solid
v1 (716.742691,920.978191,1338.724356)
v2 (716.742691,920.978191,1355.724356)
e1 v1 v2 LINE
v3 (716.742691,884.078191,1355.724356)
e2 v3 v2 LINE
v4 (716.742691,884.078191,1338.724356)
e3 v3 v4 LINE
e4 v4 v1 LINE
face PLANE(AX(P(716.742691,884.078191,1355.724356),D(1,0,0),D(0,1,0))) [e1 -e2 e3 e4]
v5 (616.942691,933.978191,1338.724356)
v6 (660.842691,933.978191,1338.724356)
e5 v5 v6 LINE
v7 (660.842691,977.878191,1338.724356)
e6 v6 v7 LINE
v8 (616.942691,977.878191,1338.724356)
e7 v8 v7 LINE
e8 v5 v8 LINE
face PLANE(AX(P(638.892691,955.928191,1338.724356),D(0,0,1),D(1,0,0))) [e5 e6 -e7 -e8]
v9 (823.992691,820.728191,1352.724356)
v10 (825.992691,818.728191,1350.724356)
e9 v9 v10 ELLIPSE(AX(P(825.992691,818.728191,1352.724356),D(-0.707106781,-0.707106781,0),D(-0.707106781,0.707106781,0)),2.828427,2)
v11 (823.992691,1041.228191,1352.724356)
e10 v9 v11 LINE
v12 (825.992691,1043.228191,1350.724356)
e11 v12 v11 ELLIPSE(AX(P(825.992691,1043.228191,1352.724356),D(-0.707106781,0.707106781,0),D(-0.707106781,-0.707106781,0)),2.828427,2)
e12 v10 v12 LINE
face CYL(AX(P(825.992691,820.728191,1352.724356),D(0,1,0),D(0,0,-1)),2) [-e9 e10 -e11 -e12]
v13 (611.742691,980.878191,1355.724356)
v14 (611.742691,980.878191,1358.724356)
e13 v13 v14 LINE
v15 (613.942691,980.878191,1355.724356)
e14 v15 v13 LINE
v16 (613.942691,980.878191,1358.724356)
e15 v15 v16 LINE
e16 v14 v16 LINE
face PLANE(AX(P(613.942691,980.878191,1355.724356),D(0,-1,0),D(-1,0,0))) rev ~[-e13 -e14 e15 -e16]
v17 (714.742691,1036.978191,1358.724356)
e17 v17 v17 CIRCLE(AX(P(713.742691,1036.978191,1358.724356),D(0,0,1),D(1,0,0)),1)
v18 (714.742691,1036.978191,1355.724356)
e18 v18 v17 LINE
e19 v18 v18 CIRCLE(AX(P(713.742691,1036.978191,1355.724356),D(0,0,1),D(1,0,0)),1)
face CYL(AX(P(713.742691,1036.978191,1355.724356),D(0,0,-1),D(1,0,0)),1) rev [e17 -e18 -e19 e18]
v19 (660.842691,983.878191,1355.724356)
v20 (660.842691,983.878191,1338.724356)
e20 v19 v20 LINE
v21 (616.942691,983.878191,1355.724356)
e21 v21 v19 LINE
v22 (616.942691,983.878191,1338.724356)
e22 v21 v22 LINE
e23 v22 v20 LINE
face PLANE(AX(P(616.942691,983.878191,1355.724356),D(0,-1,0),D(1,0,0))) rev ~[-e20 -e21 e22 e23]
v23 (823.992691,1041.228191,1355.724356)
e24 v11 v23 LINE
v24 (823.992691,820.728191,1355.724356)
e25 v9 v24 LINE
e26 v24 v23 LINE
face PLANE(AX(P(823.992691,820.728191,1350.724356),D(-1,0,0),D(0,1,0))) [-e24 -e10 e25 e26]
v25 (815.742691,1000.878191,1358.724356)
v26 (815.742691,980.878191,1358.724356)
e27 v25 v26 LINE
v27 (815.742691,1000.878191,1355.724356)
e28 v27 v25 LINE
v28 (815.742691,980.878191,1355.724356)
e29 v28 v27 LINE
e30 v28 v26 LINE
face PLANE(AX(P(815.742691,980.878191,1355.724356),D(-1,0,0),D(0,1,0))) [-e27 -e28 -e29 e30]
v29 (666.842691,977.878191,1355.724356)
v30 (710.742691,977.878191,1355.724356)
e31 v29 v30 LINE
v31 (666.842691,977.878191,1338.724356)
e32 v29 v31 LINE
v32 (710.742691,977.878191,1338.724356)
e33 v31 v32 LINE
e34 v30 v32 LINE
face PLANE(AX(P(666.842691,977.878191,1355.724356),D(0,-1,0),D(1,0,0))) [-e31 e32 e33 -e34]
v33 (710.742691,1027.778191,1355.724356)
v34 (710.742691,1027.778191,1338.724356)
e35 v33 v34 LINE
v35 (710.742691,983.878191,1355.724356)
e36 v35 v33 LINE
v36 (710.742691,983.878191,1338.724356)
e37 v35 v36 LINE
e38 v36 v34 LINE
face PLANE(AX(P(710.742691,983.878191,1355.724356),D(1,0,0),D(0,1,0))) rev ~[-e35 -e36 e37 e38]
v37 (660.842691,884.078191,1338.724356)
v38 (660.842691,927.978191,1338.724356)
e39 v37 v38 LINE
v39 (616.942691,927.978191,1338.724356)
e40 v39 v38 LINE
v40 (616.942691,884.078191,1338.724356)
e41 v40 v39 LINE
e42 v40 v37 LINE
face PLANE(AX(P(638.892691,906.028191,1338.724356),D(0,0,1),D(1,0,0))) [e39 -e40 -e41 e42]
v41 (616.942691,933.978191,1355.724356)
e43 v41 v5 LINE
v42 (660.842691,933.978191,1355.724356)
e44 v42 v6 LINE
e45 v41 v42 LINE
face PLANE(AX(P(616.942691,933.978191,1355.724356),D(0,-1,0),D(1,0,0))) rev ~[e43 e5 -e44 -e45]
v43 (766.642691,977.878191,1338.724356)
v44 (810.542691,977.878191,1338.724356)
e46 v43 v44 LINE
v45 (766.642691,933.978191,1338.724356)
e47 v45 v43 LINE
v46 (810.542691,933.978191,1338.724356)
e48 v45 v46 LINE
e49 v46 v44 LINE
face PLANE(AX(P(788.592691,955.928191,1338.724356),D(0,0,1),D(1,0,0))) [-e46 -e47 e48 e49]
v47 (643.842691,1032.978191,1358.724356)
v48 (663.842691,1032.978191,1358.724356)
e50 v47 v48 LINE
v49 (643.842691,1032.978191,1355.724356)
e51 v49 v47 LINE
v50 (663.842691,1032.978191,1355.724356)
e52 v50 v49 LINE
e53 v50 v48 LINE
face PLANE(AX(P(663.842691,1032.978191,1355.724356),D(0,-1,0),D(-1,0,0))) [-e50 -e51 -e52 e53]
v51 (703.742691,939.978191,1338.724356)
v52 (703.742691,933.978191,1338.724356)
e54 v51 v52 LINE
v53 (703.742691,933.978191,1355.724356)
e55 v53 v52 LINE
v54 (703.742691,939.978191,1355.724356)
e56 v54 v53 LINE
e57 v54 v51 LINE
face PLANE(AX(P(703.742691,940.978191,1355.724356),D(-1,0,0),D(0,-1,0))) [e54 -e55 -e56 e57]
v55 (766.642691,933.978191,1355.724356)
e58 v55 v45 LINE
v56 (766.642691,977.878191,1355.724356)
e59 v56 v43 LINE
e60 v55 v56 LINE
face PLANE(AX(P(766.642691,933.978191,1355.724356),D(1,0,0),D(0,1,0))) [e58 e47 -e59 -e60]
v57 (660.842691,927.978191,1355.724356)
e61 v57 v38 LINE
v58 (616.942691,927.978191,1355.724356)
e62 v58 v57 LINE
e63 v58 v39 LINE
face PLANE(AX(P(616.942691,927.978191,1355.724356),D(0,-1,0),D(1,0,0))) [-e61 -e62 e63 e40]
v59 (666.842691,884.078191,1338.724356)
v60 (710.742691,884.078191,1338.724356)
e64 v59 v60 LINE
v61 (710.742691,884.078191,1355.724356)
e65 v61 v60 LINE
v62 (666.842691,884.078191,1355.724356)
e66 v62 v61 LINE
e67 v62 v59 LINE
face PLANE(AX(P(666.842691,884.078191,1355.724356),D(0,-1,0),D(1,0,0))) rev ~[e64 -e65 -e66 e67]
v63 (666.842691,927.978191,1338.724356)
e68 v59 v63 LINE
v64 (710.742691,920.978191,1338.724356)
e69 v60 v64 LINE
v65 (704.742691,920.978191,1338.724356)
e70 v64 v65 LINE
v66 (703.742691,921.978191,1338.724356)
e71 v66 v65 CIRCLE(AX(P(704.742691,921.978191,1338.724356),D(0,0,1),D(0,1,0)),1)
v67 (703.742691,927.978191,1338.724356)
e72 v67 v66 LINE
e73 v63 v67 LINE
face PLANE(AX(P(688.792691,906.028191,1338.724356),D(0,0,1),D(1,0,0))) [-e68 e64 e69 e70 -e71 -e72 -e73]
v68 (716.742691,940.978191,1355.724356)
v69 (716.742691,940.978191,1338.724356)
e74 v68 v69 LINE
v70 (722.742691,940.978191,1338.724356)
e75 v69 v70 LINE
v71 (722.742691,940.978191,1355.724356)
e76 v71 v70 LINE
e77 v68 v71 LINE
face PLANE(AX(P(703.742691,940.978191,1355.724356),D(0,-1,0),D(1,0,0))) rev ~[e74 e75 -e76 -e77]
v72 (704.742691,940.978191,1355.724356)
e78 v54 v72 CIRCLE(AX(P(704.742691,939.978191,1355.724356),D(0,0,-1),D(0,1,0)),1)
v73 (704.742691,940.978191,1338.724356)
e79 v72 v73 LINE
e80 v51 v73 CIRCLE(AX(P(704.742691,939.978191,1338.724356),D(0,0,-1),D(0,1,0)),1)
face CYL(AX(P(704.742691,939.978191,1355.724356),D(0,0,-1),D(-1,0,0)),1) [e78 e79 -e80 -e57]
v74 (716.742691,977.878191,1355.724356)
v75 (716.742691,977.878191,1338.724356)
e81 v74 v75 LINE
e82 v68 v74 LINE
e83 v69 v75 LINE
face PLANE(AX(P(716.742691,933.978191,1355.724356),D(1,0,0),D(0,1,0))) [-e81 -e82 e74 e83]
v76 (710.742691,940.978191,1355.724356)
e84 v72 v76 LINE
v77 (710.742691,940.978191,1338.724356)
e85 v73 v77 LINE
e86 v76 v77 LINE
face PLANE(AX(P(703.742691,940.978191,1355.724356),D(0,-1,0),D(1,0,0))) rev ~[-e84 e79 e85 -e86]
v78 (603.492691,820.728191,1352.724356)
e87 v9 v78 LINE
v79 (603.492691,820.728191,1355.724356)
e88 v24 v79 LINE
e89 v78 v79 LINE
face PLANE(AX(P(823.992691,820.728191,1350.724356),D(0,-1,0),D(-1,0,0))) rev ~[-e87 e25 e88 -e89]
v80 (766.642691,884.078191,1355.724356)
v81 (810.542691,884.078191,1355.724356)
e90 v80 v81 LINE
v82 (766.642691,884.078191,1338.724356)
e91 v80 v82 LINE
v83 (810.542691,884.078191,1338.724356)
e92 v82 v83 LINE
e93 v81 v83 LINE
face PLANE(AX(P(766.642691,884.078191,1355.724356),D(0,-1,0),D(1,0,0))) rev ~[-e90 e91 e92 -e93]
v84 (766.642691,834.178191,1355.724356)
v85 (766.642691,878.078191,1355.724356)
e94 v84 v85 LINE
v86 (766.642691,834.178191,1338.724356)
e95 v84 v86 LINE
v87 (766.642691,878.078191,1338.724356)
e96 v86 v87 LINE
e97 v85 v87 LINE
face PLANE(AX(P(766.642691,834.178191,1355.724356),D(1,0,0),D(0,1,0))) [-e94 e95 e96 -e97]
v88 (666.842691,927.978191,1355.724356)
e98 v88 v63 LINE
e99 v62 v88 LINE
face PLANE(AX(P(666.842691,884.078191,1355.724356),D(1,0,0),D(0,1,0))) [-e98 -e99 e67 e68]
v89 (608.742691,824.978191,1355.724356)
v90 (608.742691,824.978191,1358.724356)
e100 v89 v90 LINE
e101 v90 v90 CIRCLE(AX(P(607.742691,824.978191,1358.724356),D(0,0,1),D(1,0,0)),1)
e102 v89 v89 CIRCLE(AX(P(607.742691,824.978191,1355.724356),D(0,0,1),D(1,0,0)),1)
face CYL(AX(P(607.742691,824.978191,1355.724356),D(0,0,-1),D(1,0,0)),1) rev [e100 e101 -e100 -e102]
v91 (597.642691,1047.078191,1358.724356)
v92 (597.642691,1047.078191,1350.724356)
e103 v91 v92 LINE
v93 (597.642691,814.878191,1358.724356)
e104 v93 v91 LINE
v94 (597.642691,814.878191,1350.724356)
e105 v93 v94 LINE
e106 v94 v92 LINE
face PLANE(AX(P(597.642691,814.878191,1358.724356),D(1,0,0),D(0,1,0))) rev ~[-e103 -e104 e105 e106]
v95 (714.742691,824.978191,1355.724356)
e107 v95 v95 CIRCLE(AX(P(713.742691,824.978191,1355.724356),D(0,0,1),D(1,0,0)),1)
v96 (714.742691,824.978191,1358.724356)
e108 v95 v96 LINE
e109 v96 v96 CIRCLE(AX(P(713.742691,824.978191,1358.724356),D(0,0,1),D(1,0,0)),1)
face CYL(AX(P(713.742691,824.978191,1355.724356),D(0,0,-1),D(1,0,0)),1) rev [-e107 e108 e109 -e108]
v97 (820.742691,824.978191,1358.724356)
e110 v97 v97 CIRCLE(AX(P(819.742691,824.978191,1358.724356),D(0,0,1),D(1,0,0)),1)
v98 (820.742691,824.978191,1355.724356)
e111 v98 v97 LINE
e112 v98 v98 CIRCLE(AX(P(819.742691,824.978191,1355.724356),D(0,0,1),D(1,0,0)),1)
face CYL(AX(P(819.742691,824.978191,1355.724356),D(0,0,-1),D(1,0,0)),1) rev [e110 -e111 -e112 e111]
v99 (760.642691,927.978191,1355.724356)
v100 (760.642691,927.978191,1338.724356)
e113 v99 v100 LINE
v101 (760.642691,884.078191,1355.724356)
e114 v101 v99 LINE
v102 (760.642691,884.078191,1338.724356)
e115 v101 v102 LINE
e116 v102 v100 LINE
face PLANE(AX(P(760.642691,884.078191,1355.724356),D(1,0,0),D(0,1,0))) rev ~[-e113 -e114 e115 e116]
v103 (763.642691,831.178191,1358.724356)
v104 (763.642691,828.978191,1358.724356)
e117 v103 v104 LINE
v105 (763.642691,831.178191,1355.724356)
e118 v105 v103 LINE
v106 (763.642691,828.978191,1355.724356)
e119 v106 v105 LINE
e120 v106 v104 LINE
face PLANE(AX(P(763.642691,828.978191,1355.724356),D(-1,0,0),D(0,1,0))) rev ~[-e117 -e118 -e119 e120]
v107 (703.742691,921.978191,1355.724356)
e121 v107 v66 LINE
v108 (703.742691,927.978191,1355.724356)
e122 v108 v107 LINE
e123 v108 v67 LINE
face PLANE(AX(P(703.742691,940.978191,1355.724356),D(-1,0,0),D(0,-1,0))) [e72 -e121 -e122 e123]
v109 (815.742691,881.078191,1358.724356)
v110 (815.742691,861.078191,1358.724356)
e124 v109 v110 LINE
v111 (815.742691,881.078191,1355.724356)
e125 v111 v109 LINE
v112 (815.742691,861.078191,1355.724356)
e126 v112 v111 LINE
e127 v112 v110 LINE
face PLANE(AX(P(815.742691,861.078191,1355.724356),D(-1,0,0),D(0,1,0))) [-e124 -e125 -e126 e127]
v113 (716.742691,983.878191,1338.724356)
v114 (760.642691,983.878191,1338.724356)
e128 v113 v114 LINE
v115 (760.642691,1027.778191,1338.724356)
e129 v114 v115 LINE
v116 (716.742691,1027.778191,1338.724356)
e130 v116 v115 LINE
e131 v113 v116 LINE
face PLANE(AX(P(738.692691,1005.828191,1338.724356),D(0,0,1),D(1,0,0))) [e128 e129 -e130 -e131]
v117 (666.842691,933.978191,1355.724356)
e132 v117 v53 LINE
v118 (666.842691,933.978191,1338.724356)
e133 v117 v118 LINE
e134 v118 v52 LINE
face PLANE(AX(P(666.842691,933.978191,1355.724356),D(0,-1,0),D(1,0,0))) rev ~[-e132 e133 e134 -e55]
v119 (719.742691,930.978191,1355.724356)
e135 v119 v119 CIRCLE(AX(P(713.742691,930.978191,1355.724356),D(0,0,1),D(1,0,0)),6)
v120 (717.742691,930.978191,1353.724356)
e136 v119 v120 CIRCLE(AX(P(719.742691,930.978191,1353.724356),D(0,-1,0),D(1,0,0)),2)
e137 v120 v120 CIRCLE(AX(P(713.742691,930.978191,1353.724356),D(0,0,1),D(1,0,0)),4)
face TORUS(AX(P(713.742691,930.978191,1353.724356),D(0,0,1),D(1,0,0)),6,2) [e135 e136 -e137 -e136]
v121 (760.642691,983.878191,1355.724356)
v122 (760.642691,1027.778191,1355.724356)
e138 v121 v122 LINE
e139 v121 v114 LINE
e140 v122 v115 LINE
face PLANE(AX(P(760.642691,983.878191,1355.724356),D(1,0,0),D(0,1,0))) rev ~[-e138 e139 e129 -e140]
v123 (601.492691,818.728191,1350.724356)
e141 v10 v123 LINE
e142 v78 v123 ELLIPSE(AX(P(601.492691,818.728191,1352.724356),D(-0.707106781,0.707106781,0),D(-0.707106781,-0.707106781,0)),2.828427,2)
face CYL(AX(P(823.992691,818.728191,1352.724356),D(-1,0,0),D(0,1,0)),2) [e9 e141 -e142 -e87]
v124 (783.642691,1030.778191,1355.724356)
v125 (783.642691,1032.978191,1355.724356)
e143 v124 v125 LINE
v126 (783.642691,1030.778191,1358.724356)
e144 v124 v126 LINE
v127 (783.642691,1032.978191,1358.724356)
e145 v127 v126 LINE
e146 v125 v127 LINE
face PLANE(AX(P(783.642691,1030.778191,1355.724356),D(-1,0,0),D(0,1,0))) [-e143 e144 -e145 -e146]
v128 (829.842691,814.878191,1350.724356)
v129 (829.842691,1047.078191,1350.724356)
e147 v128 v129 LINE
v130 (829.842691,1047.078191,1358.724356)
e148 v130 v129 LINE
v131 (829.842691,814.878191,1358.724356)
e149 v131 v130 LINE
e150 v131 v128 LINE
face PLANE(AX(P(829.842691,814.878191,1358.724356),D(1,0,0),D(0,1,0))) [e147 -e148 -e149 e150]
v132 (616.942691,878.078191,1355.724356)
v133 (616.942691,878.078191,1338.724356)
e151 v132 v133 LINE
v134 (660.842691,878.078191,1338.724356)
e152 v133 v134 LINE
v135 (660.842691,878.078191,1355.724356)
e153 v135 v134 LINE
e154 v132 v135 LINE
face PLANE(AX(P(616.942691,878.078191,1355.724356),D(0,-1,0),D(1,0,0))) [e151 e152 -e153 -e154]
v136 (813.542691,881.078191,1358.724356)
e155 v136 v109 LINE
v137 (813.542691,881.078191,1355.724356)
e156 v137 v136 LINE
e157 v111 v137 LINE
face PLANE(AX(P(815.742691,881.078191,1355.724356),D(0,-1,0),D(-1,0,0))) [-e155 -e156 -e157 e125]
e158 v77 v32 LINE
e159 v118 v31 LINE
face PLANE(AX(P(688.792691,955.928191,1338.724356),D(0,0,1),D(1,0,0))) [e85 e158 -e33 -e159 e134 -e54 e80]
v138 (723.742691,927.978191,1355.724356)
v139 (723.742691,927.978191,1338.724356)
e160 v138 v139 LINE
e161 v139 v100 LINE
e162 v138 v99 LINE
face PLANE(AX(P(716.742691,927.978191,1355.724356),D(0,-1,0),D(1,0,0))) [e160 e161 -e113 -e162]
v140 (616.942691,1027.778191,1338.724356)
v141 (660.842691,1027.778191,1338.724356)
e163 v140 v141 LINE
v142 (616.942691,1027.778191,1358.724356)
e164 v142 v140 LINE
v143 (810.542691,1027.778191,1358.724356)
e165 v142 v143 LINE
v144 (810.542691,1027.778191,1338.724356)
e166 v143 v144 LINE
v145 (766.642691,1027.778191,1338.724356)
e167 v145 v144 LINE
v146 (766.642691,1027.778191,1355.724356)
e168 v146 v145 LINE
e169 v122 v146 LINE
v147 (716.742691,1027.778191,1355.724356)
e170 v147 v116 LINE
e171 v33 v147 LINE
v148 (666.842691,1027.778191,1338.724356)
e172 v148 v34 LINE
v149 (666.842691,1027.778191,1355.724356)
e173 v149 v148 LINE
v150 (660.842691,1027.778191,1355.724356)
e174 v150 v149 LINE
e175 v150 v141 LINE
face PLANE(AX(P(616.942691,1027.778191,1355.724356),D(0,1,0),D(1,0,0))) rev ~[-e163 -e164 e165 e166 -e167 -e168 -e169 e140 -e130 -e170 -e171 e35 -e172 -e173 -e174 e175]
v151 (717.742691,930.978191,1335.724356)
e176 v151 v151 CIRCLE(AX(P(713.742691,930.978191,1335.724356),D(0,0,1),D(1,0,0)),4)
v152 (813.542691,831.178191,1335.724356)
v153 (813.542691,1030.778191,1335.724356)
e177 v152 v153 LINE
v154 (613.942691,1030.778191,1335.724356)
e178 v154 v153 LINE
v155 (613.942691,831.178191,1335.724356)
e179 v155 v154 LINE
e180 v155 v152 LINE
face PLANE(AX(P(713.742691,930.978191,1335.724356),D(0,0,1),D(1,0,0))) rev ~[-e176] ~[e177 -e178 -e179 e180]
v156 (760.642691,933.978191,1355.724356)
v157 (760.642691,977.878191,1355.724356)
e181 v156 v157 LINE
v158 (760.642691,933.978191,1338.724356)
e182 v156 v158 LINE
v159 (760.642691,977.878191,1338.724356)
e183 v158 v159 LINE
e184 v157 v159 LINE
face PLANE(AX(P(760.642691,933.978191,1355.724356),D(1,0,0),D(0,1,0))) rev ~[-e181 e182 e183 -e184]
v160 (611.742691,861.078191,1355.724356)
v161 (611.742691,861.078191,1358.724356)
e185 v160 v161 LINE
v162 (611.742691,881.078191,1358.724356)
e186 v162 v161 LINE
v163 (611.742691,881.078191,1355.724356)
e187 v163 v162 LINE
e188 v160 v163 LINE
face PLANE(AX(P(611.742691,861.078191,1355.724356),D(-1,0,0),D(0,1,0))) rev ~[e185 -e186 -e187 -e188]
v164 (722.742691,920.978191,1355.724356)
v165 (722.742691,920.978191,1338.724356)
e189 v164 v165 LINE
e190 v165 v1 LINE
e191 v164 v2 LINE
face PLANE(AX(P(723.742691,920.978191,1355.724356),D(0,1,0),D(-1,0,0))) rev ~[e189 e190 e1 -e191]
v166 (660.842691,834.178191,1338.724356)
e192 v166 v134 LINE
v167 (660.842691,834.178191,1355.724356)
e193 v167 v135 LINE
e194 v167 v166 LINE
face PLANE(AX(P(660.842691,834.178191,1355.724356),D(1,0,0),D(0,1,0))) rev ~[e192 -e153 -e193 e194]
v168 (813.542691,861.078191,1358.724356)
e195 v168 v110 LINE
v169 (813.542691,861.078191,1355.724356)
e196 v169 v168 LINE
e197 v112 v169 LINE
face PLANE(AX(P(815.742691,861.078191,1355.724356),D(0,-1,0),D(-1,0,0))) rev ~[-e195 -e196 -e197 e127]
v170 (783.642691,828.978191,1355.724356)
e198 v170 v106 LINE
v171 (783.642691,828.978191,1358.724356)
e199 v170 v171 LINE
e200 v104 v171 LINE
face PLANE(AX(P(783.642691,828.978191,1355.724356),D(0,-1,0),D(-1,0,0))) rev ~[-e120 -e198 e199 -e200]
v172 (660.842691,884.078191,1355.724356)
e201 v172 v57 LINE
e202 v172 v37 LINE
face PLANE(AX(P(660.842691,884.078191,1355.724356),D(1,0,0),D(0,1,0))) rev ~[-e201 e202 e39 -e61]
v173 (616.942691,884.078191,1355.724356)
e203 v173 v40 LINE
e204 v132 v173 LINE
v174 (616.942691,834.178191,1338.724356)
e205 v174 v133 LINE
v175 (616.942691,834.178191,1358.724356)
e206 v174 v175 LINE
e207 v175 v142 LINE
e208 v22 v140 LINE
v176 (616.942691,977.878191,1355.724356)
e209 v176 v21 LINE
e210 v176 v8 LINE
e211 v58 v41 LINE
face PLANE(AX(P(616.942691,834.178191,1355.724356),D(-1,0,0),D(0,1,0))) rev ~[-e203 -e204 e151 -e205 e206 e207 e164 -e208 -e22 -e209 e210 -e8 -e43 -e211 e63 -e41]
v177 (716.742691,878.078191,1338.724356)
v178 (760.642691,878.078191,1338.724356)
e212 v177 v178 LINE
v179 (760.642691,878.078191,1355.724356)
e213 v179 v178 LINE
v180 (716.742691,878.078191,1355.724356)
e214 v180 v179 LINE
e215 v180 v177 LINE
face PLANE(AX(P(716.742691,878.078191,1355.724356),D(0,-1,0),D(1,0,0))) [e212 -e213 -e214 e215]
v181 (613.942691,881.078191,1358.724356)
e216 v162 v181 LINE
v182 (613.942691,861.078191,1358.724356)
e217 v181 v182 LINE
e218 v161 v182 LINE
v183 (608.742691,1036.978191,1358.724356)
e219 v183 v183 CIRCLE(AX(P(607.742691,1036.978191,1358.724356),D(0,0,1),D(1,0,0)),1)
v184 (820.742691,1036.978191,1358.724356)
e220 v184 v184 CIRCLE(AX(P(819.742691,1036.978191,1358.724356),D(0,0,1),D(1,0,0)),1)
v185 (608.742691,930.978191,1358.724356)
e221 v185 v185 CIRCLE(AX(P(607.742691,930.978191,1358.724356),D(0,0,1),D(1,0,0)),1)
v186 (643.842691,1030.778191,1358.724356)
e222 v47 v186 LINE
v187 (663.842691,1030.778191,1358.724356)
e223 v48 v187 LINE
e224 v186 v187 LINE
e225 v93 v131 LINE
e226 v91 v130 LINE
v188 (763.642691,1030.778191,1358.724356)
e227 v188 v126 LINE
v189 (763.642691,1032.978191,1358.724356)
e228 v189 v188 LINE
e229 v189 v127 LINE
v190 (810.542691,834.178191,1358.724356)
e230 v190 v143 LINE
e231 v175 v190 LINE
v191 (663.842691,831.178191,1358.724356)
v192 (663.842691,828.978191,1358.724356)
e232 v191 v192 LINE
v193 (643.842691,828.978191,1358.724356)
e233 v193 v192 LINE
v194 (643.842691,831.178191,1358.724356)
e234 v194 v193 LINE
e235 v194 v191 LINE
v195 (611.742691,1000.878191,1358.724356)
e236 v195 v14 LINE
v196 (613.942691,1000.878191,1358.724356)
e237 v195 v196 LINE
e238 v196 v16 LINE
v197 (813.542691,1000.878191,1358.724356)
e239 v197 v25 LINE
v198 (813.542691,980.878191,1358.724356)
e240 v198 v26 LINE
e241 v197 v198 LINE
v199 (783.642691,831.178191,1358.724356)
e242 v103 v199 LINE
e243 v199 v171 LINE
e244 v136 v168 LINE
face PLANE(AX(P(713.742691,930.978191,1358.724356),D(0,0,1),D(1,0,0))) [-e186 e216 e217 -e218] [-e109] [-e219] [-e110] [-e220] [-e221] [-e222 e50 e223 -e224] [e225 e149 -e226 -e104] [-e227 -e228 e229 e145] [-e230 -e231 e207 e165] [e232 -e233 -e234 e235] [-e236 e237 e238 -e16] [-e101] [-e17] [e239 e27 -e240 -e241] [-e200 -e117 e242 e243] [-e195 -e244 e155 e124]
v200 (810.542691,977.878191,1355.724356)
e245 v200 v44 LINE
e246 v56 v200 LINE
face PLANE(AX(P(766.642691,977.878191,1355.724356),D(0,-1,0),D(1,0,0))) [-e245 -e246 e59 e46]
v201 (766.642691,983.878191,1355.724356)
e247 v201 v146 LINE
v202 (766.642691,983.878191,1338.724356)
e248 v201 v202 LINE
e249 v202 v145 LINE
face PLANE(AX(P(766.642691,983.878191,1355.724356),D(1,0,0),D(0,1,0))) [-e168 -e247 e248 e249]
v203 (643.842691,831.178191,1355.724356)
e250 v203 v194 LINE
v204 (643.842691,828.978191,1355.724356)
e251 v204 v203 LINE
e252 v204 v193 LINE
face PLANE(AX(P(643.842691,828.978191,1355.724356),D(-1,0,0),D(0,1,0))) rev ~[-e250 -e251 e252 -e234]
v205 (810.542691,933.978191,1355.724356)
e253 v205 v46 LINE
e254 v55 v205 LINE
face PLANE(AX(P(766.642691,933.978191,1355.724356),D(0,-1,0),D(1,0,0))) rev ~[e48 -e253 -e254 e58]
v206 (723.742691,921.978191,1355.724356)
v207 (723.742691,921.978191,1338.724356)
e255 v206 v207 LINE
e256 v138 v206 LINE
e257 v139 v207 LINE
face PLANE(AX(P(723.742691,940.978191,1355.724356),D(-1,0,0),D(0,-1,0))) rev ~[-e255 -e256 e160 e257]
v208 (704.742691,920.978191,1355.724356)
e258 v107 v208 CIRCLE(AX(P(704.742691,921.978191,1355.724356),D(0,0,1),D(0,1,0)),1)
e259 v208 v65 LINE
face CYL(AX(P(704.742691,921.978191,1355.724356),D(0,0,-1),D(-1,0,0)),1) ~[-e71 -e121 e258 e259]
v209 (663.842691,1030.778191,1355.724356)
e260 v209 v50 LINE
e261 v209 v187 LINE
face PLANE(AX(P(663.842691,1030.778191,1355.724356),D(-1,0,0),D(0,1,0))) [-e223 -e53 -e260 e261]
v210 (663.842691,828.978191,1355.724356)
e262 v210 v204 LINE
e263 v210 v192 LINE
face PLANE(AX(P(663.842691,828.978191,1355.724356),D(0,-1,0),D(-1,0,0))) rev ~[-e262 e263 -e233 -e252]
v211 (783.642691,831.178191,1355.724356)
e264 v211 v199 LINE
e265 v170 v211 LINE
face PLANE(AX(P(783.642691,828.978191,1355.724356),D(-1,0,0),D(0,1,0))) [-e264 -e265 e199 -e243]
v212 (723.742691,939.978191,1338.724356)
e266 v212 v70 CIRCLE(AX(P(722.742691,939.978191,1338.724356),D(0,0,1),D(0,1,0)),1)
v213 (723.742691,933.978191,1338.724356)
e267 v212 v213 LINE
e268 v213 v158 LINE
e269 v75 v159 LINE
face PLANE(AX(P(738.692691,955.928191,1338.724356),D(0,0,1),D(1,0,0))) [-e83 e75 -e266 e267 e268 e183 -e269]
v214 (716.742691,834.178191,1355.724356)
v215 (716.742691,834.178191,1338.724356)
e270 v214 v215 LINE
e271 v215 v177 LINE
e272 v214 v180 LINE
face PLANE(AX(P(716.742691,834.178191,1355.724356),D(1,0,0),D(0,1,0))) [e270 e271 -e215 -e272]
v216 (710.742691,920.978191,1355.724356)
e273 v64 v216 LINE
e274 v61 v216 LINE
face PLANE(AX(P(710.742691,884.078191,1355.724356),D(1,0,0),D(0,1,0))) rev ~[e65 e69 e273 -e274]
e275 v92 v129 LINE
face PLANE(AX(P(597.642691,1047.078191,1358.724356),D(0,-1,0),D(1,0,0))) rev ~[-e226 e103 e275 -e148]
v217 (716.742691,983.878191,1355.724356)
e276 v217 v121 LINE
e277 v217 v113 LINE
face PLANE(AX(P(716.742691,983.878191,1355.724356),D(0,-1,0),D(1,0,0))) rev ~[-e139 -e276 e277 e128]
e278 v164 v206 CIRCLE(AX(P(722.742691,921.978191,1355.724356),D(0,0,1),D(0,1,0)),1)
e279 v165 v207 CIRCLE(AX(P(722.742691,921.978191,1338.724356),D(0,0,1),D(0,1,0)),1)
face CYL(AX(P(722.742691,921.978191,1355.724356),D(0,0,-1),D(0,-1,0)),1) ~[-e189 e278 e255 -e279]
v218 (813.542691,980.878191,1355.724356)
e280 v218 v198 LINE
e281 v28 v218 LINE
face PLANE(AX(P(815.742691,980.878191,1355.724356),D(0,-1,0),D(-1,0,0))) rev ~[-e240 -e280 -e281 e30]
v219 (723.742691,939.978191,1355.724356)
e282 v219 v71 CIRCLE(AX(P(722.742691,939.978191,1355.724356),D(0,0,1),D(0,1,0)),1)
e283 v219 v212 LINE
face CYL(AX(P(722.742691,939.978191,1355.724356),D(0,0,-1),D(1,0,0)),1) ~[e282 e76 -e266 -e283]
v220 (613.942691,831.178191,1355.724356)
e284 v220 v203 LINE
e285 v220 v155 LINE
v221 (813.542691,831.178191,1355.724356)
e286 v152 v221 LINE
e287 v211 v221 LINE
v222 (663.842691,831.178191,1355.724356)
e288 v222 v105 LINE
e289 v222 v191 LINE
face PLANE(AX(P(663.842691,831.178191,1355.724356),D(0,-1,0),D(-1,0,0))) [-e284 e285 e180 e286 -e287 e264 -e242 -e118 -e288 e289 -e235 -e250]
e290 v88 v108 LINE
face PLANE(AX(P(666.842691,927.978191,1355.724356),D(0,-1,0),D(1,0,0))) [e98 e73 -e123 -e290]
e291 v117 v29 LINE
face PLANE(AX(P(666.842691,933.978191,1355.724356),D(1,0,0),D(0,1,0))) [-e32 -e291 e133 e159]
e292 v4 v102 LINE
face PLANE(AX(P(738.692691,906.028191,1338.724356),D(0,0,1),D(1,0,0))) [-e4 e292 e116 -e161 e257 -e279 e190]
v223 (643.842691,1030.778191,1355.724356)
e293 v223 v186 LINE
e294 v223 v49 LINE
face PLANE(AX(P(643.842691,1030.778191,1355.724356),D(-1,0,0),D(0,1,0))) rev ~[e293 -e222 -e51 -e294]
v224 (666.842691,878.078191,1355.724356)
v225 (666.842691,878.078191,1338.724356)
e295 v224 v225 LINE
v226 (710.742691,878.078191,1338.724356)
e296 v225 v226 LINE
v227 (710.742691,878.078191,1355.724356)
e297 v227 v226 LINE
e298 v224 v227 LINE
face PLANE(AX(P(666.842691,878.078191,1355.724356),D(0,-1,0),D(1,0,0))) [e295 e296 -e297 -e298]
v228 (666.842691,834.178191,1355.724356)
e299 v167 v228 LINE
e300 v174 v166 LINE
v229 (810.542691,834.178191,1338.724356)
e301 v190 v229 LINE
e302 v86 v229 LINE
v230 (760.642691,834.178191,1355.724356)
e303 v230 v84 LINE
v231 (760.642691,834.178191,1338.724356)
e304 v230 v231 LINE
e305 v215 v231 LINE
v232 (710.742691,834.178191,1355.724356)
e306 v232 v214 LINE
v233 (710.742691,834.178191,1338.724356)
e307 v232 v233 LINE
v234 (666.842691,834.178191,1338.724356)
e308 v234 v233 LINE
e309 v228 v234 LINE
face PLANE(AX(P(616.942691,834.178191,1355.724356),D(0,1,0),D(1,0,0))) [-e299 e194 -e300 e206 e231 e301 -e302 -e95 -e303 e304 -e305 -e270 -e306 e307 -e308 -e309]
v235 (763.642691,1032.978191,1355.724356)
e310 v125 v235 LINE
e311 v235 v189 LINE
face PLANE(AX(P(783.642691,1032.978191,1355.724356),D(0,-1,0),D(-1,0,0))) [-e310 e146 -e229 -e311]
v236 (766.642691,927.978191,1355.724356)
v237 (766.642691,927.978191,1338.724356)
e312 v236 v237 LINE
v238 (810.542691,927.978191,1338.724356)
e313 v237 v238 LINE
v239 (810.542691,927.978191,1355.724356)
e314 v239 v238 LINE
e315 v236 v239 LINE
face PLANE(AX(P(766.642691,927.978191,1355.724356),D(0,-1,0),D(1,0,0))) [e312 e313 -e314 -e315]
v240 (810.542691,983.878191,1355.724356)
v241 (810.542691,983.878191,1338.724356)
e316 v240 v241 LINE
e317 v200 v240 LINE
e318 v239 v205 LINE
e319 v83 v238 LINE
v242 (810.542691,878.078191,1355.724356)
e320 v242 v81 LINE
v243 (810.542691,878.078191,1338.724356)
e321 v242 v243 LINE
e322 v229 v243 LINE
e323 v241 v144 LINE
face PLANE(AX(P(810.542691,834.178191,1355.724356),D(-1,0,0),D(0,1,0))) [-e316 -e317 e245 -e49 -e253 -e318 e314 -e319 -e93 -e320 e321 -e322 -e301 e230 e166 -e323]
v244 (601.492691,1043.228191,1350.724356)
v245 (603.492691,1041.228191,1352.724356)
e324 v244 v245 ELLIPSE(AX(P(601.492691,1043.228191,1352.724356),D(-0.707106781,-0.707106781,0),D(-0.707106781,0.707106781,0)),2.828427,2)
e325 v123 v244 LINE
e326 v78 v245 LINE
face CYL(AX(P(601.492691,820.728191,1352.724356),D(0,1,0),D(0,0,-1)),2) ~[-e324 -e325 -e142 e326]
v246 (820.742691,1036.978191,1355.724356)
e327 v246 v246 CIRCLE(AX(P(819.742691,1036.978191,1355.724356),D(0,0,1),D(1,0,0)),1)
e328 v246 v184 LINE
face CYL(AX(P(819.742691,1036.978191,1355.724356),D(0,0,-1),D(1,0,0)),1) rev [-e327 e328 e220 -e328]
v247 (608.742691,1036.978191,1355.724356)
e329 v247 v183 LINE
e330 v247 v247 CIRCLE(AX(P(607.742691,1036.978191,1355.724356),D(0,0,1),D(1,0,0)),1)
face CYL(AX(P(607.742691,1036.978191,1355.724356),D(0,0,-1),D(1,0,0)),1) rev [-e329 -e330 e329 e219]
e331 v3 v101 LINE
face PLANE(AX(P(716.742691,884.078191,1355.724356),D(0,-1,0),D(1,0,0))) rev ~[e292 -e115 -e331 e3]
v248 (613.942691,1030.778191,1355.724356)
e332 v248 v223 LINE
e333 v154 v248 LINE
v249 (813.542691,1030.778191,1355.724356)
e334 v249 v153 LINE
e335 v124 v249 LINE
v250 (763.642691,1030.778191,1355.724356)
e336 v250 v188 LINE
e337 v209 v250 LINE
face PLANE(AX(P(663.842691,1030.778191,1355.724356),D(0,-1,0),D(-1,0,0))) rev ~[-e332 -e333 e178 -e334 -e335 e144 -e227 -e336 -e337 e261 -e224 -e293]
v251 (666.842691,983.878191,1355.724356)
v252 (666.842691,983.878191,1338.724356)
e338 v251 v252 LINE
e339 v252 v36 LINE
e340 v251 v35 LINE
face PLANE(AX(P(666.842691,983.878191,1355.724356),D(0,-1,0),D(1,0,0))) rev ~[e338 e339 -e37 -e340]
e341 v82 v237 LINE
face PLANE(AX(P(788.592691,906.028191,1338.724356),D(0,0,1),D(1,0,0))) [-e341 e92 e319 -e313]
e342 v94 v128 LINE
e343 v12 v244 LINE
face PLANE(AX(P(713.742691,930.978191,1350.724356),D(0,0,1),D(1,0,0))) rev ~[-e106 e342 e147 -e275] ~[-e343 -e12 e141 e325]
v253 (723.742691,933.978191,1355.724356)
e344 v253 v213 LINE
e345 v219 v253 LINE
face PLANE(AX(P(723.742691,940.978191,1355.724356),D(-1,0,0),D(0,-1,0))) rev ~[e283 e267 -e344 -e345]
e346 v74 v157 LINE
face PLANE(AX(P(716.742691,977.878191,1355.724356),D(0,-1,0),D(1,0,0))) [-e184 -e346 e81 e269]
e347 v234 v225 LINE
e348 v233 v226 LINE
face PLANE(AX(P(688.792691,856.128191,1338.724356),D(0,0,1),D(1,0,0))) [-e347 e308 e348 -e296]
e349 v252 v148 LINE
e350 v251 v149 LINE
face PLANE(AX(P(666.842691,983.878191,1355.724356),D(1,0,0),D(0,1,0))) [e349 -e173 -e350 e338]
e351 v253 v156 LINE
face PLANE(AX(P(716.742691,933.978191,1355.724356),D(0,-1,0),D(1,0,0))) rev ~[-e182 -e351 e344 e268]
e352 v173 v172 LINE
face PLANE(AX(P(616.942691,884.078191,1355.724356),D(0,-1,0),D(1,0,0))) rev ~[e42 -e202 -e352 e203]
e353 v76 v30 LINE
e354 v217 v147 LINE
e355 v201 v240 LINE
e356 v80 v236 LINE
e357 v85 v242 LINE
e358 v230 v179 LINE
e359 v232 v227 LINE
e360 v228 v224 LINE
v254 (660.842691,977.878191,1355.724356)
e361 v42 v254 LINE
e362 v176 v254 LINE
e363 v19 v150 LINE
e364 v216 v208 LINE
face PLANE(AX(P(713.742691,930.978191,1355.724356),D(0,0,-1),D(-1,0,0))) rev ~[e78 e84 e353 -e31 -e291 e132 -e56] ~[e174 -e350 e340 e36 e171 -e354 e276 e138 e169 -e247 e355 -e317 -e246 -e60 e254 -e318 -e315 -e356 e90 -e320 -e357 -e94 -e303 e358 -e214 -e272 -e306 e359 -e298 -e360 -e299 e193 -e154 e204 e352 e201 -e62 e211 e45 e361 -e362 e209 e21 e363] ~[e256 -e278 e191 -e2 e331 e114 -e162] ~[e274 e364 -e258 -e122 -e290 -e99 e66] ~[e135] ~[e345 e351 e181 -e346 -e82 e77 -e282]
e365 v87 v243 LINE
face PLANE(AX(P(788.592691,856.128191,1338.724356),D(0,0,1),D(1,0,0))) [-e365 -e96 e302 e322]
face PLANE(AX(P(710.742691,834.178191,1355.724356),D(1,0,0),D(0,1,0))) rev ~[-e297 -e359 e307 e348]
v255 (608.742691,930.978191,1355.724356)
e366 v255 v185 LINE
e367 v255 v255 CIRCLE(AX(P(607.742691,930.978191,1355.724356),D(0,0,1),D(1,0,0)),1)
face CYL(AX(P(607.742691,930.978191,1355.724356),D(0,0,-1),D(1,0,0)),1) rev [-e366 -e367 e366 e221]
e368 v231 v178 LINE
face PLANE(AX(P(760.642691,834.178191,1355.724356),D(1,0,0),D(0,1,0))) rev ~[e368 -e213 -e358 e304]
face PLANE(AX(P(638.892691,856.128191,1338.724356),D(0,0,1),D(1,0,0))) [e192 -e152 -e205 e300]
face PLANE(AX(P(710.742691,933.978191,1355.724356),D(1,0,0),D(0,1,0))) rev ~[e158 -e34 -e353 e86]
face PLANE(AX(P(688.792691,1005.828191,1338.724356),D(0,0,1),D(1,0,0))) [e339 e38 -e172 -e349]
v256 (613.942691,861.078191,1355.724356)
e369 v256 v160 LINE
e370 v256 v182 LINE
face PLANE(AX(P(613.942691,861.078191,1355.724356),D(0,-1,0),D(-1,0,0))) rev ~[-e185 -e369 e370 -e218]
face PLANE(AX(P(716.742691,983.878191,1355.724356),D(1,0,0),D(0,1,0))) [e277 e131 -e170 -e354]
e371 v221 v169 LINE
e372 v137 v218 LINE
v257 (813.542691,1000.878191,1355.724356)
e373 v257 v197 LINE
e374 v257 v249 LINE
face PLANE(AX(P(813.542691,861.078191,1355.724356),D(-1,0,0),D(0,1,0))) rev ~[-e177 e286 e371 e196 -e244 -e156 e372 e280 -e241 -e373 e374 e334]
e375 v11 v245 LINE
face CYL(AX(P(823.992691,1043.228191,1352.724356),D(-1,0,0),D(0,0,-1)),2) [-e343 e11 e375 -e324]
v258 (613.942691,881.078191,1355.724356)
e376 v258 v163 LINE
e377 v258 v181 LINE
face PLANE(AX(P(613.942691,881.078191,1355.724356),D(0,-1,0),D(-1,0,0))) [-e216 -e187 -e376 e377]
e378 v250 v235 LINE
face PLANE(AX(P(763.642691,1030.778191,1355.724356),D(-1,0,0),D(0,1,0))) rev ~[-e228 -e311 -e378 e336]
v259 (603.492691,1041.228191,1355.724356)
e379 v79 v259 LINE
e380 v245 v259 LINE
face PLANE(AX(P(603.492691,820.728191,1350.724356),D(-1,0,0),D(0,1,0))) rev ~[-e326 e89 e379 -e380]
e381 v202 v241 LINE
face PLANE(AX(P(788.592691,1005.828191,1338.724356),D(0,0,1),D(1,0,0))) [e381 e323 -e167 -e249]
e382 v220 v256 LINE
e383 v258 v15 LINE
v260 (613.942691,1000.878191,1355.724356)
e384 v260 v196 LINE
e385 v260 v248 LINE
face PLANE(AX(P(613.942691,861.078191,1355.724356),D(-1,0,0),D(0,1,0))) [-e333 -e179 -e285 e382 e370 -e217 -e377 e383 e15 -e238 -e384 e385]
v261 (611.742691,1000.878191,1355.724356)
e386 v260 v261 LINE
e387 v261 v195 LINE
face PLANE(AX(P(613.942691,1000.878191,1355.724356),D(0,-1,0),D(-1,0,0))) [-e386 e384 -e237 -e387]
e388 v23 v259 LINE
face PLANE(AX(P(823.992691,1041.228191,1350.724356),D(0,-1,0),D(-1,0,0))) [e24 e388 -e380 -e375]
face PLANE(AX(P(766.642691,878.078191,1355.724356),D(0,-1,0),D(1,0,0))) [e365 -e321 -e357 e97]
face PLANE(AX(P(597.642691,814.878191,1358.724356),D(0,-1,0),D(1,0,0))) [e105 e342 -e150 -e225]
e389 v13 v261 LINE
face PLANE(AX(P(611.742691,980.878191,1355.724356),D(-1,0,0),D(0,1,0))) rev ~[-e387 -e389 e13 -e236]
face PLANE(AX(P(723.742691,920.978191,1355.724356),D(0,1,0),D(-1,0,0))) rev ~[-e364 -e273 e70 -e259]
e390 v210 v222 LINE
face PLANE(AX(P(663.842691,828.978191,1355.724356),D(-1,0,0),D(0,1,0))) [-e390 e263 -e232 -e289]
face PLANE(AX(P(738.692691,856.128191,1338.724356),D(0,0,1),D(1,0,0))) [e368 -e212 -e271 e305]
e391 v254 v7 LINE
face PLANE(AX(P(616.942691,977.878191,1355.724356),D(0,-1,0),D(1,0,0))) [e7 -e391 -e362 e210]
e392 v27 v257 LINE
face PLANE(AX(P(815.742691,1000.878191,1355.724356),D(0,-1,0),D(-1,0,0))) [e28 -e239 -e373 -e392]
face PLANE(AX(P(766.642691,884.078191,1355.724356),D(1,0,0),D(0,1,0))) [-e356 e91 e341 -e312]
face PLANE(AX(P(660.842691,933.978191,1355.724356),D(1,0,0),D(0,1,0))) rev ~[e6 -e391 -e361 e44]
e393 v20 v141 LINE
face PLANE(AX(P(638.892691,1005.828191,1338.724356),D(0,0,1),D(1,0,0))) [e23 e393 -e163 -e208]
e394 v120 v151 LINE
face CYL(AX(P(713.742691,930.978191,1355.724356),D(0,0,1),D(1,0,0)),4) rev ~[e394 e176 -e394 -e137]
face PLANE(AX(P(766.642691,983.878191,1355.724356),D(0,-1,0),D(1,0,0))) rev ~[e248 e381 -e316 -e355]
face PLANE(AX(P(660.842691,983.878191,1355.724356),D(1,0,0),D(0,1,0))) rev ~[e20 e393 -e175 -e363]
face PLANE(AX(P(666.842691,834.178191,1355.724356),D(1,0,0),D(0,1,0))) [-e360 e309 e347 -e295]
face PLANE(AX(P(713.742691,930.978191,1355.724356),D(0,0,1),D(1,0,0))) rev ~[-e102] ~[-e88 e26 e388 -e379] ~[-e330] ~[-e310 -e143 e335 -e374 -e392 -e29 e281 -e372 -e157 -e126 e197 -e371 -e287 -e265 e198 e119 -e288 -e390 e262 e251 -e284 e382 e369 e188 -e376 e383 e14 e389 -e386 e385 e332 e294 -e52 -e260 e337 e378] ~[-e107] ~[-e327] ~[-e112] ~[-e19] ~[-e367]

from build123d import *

# Parameters (mm, degrees)
SKETCH1_W           = 199.6
SKETCH1_H           = 199.6
BOSS_EXTRUDE1_DEPTH = 20
SKETCH2_W           = 226.2
SKETCH2_H           = 226.2
SKETCH2_W_2         = 220.2
SKETCH2_H_2         = 220.2
BOSS_EXTRUDE2_DEPTH = 5
SKETCH3_W           = 43.9
SKETCH3_H           = 43.9
CUT_EXTRUDE2_DEPTH  = 17
SKETCH4_W           = 226.2
SKETCH4_H           = 226.2
SKETCH4_R           = 1
SKETCH4_W_2         = 193.6
SKETCH4_H_2         = 193.6
BOSS_EXTRUDE3_DEPTH = 3
SKETCH5_W           = 20
SKETCH5_H           = 2.2
SKETCH5_W_2         = 2.2
SKETCH5_H_2         = 20
CUT_EXTRUDE3_DEPTH  = 1332.979018481
SKETCH6_W           = 232.2
SKETCH6_H           = 232.2
SKETCH6_W_2         = 226.2
SKETCH6_H_2         = 226.2
BOSS_EXTRUDE4_DEPTH = 8
BOSS_EXTRUDE5_DEPTH = 20
SKETCH8_R           = 4
CUT_EXTRUDE4_DEPTH  = 1337.192961728
FILLET1_R           = 2
FILLET2_R           = 1
SKETCH9_W           = 220.5
SKETCH9_H           = 220.5
SKETCH9_W_2         = 199.6
SKETCH9_H_2         = 199.6
CUT_EXTRUDE5_DEPTH  = 5
FILLET4_R           = 2


with BuildPart() as part:
    # Sketch1 → Boss-Extrude1 (new body)
    with BuildSketch(Plane.XY.offset(1355.724355858)):
        with Locations((713.742691035, 930.978191495)):
            Rectangle(SKETCH1_W, SKETCH1_H)
    extrude(amount=-BOSS_EXTRUDE1_DEPTH)

    # Sketch3 → Cut-Extrude2 (cut)
    with BuildSketch(Plane.XY.offset(1355.724355858)):
        with Locations((638.892691035, 906.028191495)):
            Rectangle(SKETCH3_W, SKETCH3_H)
        with Locations((638.892691035, 955.928191495)):
            Rectangle(SKETCH3_W, SKETCH3_H)
        with Locations((638.892691035, 856.128191495)):
            Rectangle(SKETCH3_W, SKETCH3_H)
        with Locations((788.592691035, 856.128191495)):
            Rectangle(SKETCH3_W, SKETCH3_H)
        with Locations((788.592691035, 1005.828191495)):
            Rectangle(SKETCH3_W, SKETCH3_H)
        with Locations((638.892691035, 1005.828191495)):
            Rectangle(SKETCH3_W, SKETCH3_H)
        with Locations((688.792691035, 1005.828191495)):
            Rectangle(SKETCH3_W, SKETCH3_H)
        with Locations((738.692691035, 1005.828191495)):
            Rectangle(SKETCH3_W, SKETCH3_H)
        with Locations((738.692691035, 955.928191495)):
            Rectangle(SKETCH3_W, SKETCH3_H)
        with Locations((688.792691035, 906.028191495)):
            Rectangle(SKETCH3_W, SKETCH3_H)
        with Locations((738.692691035, 906.028191495)):
            Rectangle(SKETCH3_W, SKETCH3_H)
        with Locations((688.792691035, 955.928191495)):
            Rectangle(SKETCH3_W, SKETCH3_H)
        with Locations((788.592691035, 955.928191495)):
            Rectangle(SKETCH3_W, SKETCH3_H)
        with Locations((738.692691035, 856.128191495)):
            Rectangle(SKETCH3_W, SKETCH3_H)
        with Locations((788.592691035, 906.028191495)):
            Rectangle(SKETCH3_W, SKETCH3_H)
        with Locations((688.792691035, 856.128191495)):
            Rectangle(SKETCH3_W, SKETCH3_H)
    extrude(amount=-CUT_EXTRUDE2_DEPTH, mode=Mode.SUBTRACT)



with BuildPart() as body_2:
    # Sketch2 → Boss-Extrude2 (new body)
    with BuildSketch(Plane.XY.offset(1355.724355858)):
        with Locations((713.742691035, 930.978191495)):
            Rectangle(SKETCH2_W, SKETCH2_H)
        with Locations((713.742691035, 930.978191495)):
            Rectangle(SKETCH2_W_2, SKETCH2_H_2, mode=Mode.SUBTRACT)
    extrude(amount=-BOSS_EXTRUDE2_DEPTH)


with BuildPart() as part_1:
    add(part.part)

    add(body_2.part)  # Boss-Extrude3 merges body 2
    # Sketch4 → Boss-Extrude3 (add)
    with BuildSketch(Plane.XY.offset(1355.724355858)):
        with Locations((713.742691035, 930.978191495)):
            Rectangle(SKETCH4_W, SKETCH4_H)
        with Locations((607.742691035, 1036.978191495)):
            Circle(SKETCH4_R, mode=Mode.SUBTRACT)
        with Locations((713.742691035, 1036.978191495)):
            Circle(SKETCH4_R, mode=Mode.SUBTRACT)
        with Locations((819.742691035, 1036.978191495)):
            Circle(SKETCH4_R, mode=Mode.SUBTRACT)
        with Locations((607.742691035, 930.978191495)):
            Circle(SKETCH4_R, mode=Mode.SUBTRACT)
        with Locations((607.742691035, 824.978191495)):
            Circle(SKETCH4_R, mode=Mode.SUBTRACT)
        with Locations((713.742691035, 824.978191495)):
            Circle(SKETCH4_R, mode=Mode.SUBTRACT)
        with Locations((819.742691035, 824.978191495)):
            Circle(SKETCH4_R, mode=Mode.SUBTRACT)
        with Locations((713.742691035, 930.978191495)):
            Rectangle(SKETCH4_W_2, SKETCH4_H_2, mode=Mode.SUBTRACT)
    extrude(amount=BOSS_EXTRUDE3_DEPTH)

    # Sketch5 → Cut-Extrude3 (cut, through all)
    with BuildSketch(Plane(origin=(0, 0, 1355.724355858), x_dir=(-1, 0, 0), z_dir=(0, 0, -1))):
        with Locations((-773.642691035, 1031.878191495)):
            Rectangle(SKETCH5_W, SKETCH5_H)
        with Locations((-773.642691035, 830.078191495)):
            Rectangle(SKETCH5_W, SKETCH5_H)
        with Locations((-653.842691035, 830.078191495)):
            Rectangle(SKETCH5_W, SKETCH5_H)
        with Locations((-653.842691035, 1031.878191495)):
            Rectangle(SKETCH5_W, SKETCH5_H)
        with Locations((-814.642691035, 871.078191495)):
            Rectangle(SKETCH5_W_2, SKETCH5_H_2)
        with Locations((-814.642691035, 990.878191495)):
            Rectangle(SKETCH5_W_2, SKETCH5_H_2)
        with Locations((-612.842691035, 990.878191495)):
            Rectangle(SKETCH5_W_2, SKETCH5_H_2)
        with Locations((-612.842691035, 871.078191495)):
            Rectangle(SKETCH5_W_2, SKETCH5_H_2)
    extrude(amount=-CUT_EXTRUDE3_DEPTH, mode=Mode.SUBTRACT)

    # Sketch6 → Boss-Extrude4 (add)
    with BuildSketch(Plane.XY.offset(1358.724355858)):
        with Locations((713.742691035, 930.978191495)):
            Rectangle(SKETCH6_W, SKETCH6_H)
        with Locations((713.742691035, 930.978191495)):
            Rectangle(SKETCH6_W_2, SKETCH6_H_2, mode=Mode.SUBTRACT)
    extrude(amount=-BOSS_EXTRUDE4_DEPTH)

    # Sketch7 → Boss-Extrude5 (add)
    with BuildSketch(Plane.XY.offset(1355.724355858)):
        Polygon((703.742691035, 930.978191495), (703.742691035, 940.978191495), (723.742691035, 940.978191495), (723.742691035, 920.978191495), (703.742691035, 920.978191495), align=None)
    extrude(amount=-BOSS_EXTRUDE5_DEPTH)

    # Sketch8 → Cut-Extrude4 (cut, through all)
    with BuildSketch(Plane.XY.offset(1355.724355858)):
        with Locations((713.742691035, 930.978191495)):
            Circle(SKETCH8_R)
    extrude(amount=-CUT_EXTRUDE4_DEPTH, mode=Mode.SUBTRACT)

    # Fillet1
    fillet1_edges = [part_1.edges().sort_by_distance(p)[0] for p in [
        (709.742691035, 930.978191495, 1355.724355858),
    ]]
    fillet(fillet1_edges, radius=FILLET1_R)

    # Fillet2
    fillet2_edges = [part_1.edges().sort_by_distance(p)[0] for p in [
        (703.742691035, 940.978191495, 1347.224355858),
        (723.742691035, 940.978191495, 1347.224355858),
        (723.742691035, 920.978191495, 1347.224355858),
        (703.742691035, 920.978191495, 1347.224355858),
    ]]
    fillet(fillet2_edges, radius=FILLET2_R)

    # Sketch9 → Cut-Extrude5 (cut)
    with BuildSketch(Plane(origin=(0, 0, 1350.724355858), x_dir=(-1, 0, 0), z_dir=(0, 0, -1))):
        with Locations((-713.742691035, 930.978191495)):
            Rectangle(SKETCH9_W, SKETCH9_H)
        with Locations((-713.742691035, 930.978191495)):
            Rectangle(SKETCH9_W_2, SKETCH9_H_2, mode=Mode.SUBTRACT)
    extrude(amount=-CUT_EXTRUDE5_DEPTH, mode=Mode.SUBTRACT)

    # Fillet4
    fillet4_edges = [part_1.edges().sort_by_distance(p)[0] for p in [
        (713.742691035, 820.728191495, 1350.724355858),
        (603.492691035, 930.978191495, 1350.724355858),
        (713.742691035, 1041.228191495, 1350.724355858),
        (823.992691035, 930.978191495, 1350.724355858),
    ]]
    fillet(fillet4_edges, radius=FILLET4_R)


solid = part_1.part
